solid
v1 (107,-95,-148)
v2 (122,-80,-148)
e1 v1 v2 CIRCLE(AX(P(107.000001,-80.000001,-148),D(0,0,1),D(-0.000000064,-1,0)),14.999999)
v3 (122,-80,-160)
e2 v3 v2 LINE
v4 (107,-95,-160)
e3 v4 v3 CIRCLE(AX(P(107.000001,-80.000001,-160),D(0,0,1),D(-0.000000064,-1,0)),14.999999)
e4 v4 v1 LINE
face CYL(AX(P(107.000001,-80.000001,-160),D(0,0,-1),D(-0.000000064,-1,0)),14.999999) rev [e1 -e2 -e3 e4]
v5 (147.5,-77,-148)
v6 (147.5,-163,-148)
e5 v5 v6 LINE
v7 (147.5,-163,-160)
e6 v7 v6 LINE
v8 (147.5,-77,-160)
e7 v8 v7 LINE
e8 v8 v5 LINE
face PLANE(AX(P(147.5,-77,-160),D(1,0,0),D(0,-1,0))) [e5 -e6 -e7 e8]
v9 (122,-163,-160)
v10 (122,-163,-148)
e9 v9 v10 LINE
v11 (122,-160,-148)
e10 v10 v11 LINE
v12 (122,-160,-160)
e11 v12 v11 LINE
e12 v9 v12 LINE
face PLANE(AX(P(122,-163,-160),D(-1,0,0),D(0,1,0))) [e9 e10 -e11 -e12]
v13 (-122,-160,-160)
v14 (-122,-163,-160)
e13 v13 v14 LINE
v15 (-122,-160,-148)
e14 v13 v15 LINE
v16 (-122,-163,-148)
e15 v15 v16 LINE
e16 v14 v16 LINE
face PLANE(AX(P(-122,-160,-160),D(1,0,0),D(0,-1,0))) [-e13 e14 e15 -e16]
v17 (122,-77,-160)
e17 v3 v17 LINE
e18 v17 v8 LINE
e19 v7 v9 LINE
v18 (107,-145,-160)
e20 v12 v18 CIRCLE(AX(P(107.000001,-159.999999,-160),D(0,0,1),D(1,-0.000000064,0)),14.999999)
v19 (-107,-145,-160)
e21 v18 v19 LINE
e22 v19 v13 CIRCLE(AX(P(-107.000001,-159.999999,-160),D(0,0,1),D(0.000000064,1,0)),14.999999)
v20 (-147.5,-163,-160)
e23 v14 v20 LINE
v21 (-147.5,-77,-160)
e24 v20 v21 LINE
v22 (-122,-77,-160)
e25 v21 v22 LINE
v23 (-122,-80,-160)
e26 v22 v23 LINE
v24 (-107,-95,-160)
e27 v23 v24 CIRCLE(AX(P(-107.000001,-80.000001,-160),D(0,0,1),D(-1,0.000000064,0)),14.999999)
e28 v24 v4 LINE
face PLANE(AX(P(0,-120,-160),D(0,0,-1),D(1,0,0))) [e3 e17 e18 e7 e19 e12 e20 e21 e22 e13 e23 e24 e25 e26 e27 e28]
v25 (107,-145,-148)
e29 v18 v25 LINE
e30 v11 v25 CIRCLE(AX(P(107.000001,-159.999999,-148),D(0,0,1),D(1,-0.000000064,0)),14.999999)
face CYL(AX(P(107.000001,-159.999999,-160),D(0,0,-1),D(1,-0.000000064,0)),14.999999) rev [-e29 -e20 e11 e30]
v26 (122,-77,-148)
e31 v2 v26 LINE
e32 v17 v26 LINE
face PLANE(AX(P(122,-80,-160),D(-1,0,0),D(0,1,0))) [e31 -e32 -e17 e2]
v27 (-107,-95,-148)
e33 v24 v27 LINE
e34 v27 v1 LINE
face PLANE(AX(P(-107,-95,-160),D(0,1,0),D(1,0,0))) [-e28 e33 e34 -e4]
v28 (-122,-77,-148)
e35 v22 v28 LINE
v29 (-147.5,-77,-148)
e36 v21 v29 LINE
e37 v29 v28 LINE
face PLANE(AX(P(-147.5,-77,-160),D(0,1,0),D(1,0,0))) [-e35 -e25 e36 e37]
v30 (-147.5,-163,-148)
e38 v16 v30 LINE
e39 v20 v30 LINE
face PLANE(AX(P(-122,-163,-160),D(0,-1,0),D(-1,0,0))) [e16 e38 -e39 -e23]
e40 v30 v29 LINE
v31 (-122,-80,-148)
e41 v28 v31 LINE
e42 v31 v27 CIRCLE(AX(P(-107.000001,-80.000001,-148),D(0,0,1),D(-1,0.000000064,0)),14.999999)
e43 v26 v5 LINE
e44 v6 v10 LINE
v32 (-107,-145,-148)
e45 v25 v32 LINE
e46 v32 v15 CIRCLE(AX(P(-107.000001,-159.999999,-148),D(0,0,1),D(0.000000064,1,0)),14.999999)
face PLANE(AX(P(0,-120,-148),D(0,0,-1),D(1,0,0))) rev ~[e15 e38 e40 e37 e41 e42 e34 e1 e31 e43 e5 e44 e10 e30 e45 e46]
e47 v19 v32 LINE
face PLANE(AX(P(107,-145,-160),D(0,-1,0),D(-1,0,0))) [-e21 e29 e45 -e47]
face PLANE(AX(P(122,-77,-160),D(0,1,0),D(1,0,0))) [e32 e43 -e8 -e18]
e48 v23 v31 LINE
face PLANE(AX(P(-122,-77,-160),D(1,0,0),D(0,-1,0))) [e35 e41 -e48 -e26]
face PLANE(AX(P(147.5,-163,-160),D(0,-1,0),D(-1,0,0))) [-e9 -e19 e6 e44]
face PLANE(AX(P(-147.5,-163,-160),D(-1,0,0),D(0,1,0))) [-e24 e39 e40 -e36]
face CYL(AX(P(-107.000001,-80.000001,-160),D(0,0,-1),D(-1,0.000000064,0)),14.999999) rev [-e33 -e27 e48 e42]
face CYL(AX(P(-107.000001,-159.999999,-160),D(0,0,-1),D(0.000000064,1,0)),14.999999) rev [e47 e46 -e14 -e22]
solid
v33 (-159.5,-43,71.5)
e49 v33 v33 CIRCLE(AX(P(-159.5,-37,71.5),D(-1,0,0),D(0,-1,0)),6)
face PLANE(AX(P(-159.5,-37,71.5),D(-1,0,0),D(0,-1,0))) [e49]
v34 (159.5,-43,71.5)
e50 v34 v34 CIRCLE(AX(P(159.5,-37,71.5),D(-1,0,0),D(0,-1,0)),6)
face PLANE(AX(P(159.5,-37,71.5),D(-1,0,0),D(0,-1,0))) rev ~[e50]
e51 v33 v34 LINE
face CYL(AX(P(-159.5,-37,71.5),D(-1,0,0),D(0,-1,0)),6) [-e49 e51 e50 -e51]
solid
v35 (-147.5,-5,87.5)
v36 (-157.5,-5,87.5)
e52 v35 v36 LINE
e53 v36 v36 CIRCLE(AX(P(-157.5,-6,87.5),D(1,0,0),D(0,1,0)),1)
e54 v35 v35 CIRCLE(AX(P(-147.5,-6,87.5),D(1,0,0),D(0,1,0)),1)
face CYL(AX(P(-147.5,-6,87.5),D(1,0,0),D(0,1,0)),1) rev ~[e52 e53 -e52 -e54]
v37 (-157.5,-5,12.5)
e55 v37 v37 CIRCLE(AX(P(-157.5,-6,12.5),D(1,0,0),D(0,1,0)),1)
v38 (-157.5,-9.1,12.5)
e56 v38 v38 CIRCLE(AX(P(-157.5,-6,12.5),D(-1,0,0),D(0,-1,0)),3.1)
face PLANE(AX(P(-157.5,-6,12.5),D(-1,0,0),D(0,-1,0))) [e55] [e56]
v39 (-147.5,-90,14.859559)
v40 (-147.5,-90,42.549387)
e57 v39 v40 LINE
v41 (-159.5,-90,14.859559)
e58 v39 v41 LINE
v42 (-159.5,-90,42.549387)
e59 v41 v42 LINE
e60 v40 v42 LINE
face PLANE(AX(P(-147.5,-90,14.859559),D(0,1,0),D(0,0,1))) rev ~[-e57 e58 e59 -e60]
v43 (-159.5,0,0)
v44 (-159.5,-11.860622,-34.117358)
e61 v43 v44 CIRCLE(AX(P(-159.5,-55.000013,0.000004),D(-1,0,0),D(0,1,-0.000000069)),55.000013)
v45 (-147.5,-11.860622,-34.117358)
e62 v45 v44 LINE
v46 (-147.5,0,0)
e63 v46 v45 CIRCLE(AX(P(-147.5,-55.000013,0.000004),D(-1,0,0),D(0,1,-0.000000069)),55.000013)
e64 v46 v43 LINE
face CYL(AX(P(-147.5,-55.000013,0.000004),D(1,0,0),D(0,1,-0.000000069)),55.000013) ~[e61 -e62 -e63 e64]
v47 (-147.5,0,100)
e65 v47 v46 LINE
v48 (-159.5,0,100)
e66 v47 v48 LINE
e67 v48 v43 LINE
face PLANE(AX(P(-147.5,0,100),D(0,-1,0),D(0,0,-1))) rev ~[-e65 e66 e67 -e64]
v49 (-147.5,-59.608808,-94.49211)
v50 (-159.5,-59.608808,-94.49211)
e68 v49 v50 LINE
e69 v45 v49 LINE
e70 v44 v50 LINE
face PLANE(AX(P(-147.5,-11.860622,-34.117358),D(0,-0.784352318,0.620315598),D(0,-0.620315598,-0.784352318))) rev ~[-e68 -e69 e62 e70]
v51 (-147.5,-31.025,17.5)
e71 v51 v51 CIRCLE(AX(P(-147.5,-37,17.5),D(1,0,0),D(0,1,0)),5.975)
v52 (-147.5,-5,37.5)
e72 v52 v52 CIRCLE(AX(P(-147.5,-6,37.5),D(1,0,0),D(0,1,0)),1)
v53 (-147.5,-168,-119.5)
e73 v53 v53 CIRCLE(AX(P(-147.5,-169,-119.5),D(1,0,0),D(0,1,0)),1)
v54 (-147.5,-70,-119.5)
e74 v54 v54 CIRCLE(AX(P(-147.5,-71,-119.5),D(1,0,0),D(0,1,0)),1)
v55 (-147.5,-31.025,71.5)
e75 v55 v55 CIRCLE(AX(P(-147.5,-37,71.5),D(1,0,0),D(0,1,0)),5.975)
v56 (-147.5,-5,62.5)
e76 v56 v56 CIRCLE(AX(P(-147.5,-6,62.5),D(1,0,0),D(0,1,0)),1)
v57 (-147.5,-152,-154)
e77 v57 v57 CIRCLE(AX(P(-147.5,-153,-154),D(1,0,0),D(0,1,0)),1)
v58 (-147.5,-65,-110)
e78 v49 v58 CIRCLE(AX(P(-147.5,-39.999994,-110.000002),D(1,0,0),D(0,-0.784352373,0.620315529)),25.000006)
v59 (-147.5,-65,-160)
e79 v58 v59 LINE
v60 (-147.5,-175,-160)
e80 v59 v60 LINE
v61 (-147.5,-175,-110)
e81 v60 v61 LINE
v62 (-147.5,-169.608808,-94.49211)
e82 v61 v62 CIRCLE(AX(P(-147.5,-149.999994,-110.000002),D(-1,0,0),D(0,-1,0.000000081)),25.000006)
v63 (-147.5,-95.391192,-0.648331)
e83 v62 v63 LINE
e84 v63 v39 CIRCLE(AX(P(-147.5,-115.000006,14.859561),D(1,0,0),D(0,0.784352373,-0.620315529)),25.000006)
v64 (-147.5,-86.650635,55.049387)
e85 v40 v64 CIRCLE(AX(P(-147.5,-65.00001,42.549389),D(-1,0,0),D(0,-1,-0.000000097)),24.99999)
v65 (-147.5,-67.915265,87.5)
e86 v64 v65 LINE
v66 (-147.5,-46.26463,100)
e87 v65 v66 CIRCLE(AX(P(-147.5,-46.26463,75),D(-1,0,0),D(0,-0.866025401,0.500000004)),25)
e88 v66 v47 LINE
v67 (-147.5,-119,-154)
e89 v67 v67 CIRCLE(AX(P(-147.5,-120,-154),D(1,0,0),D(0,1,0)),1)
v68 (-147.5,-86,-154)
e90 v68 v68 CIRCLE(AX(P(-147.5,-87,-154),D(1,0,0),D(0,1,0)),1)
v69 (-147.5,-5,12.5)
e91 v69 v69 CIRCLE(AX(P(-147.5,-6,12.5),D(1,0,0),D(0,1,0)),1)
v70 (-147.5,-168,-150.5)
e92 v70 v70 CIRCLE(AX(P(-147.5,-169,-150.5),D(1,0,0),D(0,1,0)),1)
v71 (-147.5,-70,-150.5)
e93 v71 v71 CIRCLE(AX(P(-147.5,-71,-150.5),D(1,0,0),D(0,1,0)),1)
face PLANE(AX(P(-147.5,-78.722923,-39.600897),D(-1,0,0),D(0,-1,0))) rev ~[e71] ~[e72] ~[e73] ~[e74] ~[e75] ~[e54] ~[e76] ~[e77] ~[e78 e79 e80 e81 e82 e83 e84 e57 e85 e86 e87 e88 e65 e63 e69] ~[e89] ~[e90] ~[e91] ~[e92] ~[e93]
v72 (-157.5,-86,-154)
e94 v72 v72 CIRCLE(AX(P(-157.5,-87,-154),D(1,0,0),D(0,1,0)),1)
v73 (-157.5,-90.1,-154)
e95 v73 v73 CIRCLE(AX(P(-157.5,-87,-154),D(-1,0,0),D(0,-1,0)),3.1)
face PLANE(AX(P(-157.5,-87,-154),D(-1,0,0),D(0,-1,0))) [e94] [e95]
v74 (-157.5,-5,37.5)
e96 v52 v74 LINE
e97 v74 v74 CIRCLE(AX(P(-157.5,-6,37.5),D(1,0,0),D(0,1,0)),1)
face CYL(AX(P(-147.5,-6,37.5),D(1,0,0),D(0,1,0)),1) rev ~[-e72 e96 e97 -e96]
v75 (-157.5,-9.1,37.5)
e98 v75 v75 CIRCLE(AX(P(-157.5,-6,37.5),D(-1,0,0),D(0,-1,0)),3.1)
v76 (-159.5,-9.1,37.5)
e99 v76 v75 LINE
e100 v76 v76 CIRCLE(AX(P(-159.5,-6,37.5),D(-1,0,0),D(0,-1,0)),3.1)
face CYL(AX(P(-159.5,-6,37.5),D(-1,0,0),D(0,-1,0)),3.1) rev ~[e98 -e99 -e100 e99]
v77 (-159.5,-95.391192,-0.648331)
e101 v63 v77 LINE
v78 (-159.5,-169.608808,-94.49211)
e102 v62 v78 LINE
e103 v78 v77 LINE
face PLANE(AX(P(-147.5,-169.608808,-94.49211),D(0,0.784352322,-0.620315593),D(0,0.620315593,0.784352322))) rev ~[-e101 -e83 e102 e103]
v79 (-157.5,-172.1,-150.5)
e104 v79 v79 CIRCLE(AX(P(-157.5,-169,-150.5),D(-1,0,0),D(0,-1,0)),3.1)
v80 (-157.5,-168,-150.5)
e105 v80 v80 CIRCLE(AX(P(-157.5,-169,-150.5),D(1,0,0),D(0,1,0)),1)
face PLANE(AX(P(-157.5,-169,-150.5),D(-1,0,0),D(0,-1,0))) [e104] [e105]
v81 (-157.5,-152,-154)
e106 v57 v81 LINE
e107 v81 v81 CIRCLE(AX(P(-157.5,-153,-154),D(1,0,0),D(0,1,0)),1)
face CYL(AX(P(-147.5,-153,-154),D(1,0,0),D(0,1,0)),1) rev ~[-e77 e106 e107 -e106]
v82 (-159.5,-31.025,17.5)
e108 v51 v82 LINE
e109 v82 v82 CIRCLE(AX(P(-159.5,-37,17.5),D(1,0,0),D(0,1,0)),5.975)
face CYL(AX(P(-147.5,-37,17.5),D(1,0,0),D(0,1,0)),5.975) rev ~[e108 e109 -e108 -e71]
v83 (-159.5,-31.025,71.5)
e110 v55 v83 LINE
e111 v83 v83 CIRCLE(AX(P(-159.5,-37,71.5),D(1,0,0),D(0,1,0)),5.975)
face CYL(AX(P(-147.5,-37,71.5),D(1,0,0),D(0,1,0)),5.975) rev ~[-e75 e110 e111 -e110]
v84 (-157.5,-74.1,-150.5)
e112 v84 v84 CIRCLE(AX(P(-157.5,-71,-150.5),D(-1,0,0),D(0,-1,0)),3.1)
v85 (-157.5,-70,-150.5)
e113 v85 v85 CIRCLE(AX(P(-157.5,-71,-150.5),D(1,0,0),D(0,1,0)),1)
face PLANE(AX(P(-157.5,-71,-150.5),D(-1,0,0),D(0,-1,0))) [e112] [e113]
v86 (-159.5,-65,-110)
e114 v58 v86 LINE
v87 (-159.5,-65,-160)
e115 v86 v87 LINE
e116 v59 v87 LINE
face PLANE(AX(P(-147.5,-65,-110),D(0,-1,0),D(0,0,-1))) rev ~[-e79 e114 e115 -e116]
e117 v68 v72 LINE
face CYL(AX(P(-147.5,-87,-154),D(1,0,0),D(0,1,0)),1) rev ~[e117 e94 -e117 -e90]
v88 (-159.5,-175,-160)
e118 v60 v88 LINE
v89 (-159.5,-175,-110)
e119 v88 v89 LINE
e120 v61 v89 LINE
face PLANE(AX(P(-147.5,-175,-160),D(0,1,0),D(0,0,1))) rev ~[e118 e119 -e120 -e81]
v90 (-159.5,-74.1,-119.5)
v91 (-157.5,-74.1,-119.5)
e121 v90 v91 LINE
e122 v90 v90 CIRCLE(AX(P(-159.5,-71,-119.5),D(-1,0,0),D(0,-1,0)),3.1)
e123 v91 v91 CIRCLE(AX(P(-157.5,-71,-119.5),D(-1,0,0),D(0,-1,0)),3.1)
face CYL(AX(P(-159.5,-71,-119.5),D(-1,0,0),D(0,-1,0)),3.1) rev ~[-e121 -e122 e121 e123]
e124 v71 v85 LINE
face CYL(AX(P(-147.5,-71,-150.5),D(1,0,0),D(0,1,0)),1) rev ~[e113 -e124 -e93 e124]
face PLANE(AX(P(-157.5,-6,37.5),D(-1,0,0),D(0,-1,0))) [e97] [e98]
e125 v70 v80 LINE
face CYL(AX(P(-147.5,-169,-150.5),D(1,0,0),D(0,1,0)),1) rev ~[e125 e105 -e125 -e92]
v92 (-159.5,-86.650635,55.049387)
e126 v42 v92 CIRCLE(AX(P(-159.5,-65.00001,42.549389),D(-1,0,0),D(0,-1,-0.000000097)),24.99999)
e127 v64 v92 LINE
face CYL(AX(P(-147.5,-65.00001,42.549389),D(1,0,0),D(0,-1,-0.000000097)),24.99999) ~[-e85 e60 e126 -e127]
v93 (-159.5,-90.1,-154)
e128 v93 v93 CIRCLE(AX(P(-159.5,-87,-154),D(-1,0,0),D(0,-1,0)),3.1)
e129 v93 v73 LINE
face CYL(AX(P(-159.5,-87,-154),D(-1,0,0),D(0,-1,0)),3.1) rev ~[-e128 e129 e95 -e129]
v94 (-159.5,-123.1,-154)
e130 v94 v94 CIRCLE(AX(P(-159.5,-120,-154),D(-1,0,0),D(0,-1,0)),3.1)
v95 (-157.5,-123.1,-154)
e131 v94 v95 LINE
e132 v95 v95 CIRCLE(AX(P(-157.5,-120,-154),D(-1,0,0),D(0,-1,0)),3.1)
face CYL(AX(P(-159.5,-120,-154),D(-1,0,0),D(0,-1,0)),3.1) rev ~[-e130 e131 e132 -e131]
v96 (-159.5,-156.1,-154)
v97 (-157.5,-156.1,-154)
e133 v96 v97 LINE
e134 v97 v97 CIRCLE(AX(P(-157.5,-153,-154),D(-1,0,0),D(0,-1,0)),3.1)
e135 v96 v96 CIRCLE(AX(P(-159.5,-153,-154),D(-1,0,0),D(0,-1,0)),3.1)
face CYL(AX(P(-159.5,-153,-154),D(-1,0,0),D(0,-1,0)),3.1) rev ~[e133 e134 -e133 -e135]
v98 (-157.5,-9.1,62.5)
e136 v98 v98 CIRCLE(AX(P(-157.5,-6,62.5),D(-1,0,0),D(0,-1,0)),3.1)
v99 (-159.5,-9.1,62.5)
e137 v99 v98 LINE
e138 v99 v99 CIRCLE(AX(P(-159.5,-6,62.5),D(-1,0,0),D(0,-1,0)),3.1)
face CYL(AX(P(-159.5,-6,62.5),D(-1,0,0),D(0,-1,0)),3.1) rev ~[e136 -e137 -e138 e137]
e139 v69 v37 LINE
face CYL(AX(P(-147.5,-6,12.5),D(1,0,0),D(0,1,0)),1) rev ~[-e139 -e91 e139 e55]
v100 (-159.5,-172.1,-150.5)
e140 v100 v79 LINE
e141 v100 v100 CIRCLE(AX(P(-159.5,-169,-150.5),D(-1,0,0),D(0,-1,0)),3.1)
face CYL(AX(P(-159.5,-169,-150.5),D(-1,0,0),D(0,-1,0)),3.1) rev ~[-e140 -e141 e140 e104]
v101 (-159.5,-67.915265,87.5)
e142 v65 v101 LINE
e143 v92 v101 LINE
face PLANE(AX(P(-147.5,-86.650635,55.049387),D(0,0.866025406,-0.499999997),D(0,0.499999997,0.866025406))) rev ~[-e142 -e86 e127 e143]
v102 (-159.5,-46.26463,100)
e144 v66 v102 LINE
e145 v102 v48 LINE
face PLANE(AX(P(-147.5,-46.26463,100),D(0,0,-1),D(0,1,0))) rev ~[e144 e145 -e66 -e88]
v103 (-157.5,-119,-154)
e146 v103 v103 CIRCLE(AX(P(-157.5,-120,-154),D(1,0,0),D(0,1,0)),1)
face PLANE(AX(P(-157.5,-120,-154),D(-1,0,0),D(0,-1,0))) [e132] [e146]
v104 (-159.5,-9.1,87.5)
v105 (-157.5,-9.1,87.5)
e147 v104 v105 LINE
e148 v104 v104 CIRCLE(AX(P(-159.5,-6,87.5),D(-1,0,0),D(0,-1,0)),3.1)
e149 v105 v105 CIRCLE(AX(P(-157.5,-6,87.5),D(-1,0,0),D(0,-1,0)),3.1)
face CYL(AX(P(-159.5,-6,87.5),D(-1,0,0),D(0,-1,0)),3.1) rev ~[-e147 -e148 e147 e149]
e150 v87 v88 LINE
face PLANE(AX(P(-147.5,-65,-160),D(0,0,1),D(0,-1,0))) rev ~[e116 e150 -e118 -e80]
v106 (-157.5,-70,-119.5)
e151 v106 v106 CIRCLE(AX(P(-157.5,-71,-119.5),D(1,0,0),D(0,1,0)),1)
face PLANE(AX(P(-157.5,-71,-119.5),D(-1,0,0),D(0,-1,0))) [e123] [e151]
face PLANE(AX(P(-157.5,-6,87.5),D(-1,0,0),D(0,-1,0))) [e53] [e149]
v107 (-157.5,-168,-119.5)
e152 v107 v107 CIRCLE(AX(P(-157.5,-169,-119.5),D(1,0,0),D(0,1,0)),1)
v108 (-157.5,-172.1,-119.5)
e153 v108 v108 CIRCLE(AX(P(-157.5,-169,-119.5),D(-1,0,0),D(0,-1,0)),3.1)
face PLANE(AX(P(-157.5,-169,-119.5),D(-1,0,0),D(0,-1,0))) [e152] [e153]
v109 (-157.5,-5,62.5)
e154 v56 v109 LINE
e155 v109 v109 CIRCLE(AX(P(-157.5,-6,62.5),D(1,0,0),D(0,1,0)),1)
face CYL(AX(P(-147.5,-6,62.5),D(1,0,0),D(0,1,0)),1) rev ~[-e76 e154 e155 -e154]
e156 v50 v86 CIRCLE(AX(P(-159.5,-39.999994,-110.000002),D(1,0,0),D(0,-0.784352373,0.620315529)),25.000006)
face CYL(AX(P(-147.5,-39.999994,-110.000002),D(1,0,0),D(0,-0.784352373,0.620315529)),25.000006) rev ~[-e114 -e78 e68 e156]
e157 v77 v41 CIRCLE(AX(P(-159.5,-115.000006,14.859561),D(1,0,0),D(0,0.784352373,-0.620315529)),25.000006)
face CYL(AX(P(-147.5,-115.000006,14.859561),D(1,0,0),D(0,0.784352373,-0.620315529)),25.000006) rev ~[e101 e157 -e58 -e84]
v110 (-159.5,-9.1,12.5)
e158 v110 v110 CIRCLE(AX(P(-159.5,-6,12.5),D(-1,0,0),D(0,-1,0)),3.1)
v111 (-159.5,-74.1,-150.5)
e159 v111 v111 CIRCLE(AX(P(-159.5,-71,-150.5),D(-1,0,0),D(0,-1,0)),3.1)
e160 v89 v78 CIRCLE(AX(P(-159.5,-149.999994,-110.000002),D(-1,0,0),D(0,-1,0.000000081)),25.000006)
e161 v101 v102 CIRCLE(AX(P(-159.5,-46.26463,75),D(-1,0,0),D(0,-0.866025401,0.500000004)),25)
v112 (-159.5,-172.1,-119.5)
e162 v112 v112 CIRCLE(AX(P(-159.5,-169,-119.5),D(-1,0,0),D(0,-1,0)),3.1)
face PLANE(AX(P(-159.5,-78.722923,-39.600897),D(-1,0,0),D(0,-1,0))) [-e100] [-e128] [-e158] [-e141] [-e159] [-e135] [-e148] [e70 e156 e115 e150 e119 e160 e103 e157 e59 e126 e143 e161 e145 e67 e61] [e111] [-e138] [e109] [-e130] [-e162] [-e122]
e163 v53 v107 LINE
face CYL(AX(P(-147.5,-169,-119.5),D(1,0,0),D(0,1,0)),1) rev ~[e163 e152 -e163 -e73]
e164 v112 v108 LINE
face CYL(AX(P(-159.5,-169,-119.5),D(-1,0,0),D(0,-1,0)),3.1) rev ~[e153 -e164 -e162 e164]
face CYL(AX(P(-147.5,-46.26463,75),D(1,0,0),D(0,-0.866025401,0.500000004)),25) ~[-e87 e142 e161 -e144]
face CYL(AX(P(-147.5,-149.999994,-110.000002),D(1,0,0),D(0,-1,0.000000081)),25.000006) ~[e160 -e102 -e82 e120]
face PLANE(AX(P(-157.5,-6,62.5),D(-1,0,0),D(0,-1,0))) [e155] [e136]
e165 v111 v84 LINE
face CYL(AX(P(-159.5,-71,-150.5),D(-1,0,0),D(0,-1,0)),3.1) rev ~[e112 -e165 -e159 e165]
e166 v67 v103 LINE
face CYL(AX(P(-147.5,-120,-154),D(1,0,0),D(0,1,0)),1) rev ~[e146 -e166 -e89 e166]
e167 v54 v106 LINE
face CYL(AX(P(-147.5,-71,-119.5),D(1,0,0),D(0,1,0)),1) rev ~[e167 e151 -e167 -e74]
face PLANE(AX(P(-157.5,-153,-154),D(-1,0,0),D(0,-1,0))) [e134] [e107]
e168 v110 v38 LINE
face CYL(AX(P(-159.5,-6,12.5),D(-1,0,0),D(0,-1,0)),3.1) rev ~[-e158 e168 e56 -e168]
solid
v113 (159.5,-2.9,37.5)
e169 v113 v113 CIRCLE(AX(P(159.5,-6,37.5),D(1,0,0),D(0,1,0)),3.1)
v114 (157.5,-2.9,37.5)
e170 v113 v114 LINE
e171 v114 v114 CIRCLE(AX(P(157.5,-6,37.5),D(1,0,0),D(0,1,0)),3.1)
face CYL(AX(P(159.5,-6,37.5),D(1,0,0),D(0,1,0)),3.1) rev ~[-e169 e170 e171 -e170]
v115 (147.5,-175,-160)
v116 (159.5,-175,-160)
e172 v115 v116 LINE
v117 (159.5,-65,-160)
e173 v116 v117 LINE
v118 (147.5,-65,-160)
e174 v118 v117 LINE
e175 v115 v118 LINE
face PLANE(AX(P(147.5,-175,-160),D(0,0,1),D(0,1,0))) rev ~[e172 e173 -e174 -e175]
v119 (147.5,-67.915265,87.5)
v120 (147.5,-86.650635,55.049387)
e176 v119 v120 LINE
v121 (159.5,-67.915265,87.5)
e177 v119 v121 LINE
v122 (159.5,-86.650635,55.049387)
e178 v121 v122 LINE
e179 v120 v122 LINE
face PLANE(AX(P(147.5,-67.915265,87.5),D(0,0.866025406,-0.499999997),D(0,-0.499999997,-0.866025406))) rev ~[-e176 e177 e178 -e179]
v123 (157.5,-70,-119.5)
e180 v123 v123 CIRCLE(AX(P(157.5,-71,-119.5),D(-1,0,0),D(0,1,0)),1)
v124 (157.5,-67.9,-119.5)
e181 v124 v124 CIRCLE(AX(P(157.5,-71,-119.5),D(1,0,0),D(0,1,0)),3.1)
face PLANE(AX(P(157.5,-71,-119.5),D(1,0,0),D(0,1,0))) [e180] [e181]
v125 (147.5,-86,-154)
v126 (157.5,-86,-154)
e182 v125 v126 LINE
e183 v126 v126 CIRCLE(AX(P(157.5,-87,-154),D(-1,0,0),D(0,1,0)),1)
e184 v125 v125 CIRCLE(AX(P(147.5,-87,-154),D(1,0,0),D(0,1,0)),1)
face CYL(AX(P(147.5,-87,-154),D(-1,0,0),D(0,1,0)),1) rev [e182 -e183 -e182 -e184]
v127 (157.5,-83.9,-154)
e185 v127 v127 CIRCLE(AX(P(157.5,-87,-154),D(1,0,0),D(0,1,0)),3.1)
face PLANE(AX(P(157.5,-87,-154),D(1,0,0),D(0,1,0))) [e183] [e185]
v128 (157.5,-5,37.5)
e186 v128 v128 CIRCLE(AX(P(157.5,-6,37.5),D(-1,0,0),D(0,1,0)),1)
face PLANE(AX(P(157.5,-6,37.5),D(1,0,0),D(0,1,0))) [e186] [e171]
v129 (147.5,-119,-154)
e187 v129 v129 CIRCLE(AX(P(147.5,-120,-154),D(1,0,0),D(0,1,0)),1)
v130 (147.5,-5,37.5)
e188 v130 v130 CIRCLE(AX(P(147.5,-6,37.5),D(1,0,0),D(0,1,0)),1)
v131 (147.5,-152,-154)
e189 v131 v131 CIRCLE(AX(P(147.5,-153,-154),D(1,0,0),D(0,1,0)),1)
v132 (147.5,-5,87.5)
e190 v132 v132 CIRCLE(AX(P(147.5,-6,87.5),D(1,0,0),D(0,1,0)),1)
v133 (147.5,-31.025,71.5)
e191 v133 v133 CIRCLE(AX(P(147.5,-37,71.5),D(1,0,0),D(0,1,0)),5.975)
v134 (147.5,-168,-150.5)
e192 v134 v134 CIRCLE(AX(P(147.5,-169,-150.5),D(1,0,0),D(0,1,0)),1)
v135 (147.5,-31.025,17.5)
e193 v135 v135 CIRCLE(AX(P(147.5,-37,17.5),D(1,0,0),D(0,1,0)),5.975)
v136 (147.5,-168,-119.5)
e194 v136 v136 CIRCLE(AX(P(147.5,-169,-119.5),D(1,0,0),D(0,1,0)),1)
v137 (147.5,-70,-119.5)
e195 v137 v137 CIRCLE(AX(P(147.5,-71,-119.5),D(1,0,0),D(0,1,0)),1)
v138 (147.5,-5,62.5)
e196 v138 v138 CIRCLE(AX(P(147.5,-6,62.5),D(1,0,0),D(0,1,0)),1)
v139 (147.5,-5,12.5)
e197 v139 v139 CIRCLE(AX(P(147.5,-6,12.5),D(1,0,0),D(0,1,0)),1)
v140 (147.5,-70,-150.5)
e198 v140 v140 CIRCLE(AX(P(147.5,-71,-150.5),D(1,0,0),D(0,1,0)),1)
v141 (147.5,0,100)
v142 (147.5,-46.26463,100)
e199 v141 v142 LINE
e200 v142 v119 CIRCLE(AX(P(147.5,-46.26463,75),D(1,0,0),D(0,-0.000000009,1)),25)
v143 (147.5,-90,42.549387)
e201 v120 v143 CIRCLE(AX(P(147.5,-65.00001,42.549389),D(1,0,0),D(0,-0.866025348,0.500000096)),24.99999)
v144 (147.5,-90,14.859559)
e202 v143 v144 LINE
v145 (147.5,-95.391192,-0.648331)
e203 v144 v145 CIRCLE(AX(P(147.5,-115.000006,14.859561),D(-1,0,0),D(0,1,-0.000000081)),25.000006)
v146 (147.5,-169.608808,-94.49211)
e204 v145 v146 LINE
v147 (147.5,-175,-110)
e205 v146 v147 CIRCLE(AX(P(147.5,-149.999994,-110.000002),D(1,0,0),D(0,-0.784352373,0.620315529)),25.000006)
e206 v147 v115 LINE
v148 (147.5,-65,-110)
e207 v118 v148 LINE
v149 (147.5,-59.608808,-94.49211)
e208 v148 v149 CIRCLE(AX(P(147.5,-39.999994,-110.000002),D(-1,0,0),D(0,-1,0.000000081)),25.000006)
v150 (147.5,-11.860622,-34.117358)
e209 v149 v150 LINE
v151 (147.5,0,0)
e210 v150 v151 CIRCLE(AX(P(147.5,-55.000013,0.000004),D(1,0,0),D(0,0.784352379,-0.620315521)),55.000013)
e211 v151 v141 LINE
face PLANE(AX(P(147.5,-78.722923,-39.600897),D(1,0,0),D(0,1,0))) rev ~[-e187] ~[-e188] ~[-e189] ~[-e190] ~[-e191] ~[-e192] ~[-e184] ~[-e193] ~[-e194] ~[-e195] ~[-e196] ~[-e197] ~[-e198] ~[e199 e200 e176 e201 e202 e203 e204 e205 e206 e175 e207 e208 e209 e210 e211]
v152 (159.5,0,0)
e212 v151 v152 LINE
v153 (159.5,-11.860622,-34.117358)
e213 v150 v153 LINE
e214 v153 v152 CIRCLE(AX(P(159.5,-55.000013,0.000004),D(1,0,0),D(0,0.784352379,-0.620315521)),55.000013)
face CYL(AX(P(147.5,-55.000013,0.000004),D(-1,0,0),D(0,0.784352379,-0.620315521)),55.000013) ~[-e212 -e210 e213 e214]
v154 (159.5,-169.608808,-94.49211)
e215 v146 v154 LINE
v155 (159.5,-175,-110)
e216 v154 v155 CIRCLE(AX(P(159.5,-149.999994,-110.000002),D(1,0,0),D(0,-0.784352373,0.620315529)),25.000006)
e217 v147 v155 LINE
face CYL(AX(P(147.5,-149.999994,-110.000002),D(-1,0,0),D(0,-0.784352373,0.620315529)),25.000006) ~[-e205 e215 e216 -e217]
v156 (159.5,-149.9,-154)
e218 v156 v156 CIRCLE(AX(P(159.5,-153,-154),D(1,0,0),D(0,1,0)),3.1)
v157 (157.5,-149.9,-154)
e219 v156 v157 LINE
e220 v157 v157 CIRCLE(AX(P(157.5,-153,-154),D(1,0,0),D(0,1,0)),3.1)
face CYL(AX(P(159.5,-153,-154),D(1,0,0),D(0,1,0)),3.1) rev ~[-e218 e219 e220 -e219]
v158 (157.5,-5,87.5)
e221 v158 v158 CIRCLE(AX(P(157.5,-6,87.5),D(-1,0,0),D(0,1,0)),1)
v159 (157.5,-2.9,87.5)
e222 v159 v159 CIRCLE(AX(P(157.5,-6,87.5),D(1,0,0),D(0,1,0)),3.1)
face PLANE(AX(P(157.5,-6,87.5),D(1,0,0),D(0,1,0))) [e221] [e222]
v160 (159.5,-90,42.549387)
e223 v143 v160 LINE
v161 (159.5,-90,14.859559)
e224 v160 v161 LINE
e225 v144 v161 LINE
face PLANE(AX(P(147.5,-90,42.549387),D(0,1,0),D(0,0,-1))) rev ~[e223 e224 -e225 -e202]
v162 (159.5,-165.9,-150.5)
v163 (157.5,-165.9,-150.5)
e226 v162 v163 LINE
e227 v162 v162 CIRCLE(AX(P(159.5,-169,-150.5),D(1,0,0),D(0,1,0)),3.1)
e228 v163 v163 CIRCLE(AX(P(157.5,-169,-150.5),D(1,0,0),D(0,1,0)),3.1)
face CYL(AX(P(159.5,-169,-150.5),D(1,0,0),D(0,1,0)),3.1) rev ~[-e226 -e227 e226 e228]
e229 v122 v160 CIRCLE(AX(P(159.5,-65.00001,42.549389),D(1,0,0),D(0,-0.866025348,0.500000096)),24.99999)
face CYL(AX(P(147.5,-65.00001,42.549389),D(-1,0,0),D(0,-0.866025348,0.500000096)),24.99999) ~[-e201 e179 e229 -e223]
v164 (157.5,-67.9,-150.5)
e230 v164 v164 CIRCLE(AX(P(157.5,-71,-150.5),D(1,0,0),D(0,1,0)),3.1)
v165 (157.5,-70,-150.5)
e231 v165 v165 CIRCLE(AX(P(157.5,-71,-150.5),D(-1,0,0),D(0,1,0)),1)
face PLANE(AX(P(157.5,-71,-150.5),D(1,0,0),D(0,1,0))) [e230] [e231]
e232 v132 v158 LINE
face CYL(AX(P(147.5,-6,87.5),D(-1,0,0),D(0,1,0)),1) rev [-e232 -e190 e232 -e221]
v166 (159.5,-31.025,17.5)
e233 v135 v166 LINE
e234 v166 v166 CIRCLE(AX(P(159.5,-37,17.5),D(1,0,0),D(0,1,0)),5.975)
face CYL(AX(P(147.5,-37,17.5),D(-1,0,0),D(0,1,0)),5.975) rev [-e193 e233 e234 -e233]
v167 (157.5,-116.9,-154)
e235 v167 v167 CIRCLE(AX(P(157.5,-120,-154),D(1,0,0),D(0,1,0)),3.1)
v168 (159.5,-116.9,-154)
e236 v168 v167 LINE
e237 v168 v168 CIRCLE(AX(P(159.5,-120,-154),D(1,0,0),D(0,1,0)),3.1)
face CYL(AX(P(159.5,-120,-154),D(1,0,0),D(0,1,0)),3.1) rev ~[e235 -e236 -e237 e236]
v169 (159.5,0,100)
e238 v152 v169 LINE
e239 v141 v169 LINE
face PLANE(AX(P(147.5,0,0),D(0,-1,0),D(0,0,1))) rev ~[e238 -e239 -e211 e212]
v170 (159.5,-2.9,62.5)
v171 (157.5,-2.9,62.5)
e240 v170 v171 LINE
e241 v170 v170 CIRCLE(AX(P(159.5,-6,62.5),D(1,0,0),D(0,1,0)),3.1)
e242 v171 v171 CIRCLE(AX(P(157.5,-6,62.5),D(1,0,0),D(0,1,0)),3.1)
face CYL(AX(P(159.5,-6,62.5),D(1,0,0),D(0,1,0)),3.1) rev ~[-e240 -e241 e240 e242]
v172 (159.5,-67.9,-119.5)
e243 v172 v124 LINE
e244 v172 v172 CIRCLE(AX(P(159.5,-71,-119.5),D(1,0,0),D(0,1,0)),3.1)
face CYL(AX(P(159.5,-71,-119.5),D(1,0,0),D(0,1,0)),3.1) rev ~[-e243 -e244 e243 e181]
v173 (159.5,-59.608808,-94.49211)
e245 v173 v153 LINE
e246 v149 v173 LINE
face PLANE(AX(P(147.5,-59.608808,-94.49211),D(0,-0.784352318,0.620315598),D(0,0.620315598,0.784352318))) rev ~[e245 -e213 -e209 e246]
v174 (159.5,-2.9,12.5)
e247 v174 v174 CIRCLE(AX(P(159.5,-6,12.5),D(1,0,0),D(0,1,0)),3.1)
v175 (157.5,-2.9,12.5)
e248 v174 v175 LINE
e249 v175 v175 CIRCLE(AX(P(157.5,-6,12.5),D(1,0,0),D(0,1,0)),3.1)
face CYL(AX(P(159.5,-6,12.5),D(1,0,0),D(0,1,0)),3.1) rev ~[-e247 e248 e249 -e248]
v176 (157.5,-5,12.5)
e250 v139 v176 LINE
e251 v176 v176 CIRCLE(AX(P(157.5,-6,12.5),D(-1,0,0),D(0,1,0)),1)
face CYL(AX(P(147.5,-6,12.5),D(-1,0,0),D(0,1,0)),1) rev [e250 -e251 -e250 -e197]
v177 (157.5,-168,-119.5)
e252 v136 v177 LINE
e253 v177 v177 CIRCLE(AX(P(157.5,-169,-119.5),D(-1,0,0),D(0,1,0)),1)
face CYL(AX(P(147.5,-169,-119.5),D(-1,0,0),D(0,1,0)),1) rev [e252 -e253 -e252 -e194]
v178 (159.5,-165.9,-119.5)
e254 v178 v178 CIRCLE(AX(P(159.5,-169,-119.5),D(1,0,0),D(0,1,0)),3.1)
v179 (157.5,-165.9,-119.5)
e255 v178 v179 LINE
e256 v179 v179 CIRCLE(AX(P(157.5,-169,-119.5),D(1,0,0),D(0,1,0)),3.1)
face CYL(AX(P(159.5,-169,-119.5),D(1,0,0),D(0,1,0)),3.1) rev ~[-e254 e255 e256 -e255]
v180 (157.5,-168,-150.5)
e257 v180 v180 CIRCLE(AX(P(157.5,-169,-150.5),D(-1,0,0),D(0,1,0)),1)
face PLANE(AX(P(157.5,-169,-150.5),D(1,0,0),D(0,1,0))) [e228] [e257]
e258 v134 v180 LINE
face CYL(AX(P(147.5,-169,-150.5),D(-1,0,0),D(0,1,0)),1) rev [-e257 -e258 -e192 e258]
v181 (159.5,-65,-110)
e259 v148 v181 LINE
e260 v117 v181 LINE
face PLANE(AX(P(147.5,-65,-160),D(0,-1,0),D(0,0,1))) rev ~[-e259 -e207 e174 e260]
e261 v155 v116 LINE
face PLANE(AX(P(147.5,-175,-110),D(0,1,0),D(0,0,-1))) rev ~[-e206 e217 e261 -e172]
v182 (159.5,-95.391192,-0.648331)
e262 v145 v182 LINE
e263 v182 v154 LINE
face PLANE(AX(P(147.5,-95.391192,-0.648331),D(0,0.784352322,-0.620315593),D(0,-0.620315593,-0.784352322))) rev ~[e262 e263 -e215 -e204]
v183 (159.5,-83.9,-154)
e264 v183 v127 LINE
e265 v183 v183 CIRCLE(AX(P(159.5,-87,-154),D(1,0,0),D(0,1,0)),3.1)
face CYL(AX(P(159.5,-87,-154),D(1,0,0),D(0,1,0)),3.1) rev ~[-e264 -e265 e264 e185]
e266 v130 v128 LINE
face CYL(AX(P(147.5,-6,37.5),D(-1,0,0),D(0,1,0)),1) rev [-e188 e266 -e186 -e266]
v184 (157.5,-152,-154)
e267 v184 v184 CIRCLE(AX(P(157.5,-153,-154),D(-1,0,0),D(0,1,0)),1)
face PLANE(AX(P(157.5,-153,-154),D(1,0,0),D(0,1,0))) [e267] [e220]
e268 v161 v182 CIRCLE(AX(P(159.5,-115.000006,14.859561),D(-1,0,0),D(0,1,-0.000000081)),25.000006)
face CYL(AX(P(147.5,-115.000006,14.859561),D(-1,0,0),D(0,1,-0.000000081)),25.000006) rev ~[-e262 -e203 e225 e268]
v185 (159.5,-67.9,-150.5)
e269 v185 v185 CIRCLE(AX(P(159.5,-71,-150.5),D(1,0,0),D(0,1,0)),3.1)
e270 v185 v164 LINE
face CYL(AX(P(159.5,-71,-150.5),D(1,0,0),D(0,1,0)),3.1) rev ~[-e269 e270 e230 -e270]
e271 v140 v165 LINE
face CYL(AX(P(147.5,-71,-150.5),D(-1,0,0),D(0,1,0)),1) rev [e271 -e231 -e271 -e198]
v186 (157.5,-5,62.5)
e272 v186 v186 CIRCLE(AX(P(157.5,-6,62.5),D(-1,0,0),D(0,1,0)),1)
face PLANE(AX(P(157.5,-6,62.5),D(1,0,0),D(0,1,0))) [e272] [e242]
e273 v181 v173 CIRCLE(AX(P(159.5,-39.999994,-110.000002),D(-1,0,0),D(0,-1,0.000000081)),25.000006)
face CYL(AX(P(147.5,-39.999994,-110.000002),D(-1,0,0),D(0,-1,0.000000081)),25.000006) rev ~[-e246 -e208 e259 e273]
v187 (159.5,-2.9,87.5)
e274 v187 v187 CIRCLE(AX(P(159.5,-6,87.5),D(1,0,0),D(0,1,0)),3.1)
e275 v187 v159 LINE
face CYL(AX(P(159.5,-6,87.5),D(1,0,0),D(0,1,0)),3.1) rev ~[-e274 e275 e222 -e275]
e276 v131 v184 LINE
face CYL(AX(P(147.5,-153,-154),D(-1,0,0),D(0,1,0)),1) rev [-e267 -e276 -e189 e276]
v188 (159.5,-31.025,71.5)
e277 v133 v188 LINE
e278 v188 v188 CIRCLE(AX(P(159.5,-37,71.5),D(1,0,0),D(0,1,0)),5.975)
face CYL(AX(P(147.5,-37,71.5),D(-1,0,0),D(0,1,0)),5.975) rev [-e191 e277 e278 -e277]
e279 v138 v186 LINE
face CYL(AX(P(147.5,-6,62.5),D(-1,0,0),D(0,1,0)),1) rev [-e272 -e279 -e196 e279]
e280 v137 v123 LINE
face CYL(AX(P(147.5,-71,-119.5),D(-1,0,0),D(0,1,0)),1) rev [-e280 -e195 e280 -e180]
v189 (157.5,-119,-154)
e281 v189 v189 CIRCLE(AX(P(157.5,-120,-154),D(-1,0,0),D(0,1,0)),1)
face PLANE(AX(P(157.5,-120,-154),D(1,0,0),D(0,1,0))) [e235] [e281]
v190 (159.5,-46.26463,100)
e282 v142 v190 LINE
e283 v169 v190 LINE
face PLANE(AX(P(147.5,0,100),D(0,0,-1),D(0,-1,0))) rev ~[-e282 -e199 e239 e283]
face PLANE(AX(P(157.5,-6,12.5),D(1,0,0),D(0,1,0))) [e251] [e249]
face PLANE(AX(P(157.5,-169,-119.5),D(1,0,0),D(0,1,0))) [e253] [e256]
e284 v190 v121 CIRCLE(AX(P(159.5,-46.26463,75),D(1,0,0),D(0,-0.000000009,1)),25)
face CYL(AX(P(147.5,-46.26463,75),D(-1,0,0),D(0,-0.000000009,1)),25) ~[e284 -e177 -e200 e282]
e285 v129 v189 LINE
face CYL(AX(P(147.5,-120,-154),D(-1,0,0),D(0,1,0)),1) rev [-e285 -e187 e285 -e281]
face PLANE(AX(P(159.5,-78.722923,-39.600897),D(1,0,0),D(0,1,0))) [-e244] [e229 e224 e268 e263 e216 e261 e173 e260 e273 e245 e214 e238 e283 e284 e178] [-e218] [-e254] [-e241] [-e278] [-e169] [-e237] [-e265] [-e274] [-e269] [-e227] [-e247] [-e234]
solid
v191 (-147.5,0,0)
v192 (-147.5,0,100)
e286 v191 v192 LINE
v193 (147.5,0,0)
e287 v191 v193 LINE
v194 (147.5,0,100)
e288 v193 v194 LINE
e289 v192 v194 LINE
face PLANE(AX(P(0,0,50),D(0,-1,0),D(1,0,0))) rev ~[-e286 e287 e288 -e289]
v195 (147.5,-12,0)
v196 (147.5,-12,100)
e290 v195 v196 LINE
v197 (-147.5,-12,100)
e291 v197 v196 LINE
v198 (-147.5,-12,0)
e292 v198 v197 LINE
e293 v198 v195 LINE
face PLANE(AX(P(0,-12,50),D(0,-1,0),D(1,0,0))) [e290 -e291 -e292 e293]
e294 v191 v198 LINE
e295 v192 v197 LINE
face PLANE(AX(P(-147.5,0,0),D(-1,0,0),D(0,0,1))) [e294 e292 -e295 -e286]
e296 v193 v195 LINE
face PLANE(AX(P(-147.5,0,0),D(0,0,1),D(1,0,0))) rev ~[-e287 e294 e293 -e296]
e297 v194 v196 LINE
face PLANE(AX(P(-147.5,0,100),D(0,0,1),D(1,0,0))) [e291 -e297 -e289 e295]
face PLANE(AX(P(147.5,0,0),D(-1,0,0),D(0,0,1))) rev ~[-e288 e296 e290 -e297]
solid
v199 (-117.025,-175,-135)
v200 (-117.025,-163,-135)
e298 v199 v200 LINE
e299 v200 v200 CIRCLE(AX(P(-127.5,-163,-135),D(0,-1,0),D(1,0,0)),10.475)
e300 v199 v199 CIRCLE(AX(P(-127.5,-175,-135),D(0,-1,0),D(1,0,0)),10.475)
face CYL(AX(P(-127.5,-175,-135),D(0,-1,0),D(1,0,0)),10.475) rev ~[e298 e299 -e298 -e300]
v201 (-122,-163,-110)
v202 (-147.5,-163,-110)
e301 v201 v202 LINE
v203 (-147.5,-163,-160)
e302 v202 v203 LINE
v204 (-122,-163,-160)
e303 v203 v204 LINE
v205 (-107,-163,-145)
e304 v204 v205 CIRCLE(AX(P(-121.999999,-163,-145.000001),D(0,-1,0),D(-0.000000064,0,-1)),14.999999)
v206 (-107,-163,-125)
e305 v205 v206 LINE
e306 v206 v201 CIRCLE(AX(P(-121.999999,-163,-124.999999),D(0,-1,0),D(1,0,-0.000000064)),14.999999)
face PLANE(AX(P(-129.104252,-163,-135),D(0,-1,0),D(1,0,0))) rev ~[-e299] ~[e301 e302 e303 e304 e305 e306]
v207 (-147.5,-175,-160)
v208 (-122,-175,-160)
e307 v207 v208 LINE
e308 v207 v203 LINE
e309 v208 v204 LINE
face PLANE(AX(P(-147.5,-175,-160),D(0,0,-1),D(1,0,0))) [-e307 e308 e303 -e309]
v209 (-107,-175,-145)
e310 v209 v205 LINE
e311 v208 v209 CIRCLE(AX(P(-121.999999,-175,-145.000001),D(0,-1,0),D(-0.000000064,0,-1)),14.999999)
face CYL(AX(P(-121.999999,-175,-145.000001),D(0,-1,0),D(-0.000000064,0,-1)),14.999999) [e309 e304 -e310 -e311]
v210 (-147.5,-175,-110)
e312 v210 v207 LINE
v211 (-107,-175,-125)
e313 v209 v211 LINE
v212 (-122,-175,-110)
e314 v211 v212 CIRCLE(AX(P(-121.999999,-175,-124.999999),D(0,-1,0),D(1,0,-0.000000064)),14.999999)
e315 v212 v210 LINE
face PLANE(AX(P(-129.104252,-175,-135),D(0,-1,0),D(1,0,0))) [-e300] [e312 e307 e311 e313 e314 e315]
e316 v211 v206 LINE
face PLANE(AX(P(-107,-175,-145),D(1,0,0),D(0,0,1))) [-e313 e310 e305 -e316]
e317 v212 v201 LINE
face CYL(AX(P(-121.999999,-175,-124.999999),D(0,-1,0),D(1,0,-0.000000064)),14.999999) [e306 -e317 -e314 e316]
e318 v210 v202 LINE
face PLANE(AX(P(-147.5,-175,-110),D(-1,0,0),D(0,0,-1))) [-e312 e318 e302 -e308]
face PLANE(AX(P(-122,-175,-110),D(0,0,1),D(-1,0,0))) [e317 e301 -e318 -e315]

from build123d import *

# Parameters (mm, degrees)
F0_W      = 295
F0_H      = 100
F1_DEPTH  = 12
F3_DEPTH  = 12
F4_R      = 5.975
F4_R_2    = 1
F5_DEPTH  = 25
F6_R      = 6
F7_DEPTH  = 319
F8_R      = 1
F8_R_2    = 5.975
F9_DEPTH  = 12
F10_R     = 3.1
F11_DEPTH = 2
F12_R     = 3.1
F13_DEPTH = 2
F14_R     = 10.475
F15_DEPTH = 12
F17_DEPTH = 12


with BuildPart() as f1:
    # F0 (on Front) → F1 (new body)
    with BuildSketch(Plane.XZ):
        with Locations((0, 50)):
            Rectangle(F0_W, F0_H)
    extrude(amount=F1_DEPTH)


with BuildPart() as f3:
    # F2 (on face) → F3 (new body)
    with BuildSketch(Plane(origin=(-147.5, 0, 0), x_dir=(0, -1, 0), z_dir=(-1, 0, 0))):
        with BuildLine():
            Line((46.26463, 100), (0, 100))
            Line((0, 100), (0, 0))
            ThreePointArc((0, 0), (3.049708, -18.060097), (11.860622, -34.117358))
            Line((11.860622, -34.117358), (59.608808, -94.49211))
            ThreePointArc((59.608808, -94.49211), (63.613769, -101.790865), (65, -110))
            Line((65, -110), (65, -160))
            Line((65, -160), (175, -160))
            Line((175, -160), (175, -110))
            ThreePointArc((175, -110), (173.613769, -101.790865), (169.608808, -94.49211))
            Line((169.608808, -94.49211), (95.391192, -0.648331))
            ThreePointArc((95.391192, -0.648331), (91.386231, 6.650424), (90, 14.859559))
            Line((90, 14.859559), (90, 42.549387))
            ThreePointArc((90, 42.549387), (89.148146, 49.019863), (86.650635, 55.049387))
            Line((86.650635, 55.049387), (67.915265, 87.5))
            ThreePointArc((67.915265, 87.5), (58.76463, 96.650635), (46.26463, 100))
        make_face()
    extrude(amount=F3_DEPTH)

    # F4 (on face) → F5 (cut)
    with BuildSketch(Plane.YZ.offset(-147.5)):
        with Locations((-37, 17.5)):
            Circle(F4_R)
        with Locations((-37, 71.5)):
            Circle(F4_R)
        with Locations((-6, 87.5)):
            Circle(F4_R_2)
        with Locations((-6, 62.5)):
            Circle(F4_R_2)
        with Locations((-6, 37.5)):
            Circle(F4_R_2)
        with Locations((-6, 12.5)):
            Circle(F4_R_2)
        with Locations((-87, -154)):
            Circle(F4_R_2)
        with Locations((-120, -154)):
            Circle(F4_R_2)
        with Locations((-153, -154)):
            Circle(F4_R_2)
        with Locations((-169, -150.5)):
            Circle(F4_R_2)
        with Locations((-169, -119.5)):
            Circle(F4_R_2)
        with Locations((-71, -119.5)):
            Circle(F4_R_2)
        with Locations((-71, -150.5)):
            Circle(F4_R_2)
    extrude(amount=-F5_DEPTH, mode=Mode.SUBTRACT)

    # F10 (on face) → F11 (cut)
    with BuildSketch(Plane(origin=(-159.5, 0, 0), x_dir=(0, -1, 0), z_dir=(-1, 0, 0))):
        with Locations((6, 87.5)):
            Circle(F10_R)
        with Locations((6, 62.5)):
            Circle(F10_R)
        with Locations((6, 37.5)):
            Circle(F10_R)
        with Locations((6, 12.5)):
            Circle(F10_R)
        with Locations((87, -154)):
            Circle(F10_R)
        with Locations((120, -154)):
            Circle(F10_R)
        with Locations((153, -154)):
            Circle(F10_R)
        with Locations((71, -150.5)):
            Circle(F10_R)
        with Locations((71, -119.5)):
            Circle(F10_R)
        with Locations((169, -119.5)):
            Circle(F10_R)
        with Locations((169, -150.5)):
            Circle(F10_R)
    extrude(amount=-F11_DEPTH, mode=Mode.SUBTRACT)


with BuildPart() as f7:
    # F6 (on face) → F7 (new body)
    with BuildSketch(Plane(origin=(-159.5, 0, 0), x_dir=(0, -1, 0), z_dir=(-1, 0, 0))):
        with Locations((37, 71.5)):
            Circle(F6_R)
    extrude(amount=-F7_DEPTH)


with BuildPart() as f9:
    # F8 (on face) → F9 (new body)
    with BuildSketch(Plane.YZ.offset(147.5)):
        with BuildLine():
            Line((-59.608808, -94.49211), (-11.860622, -34.117358))
            ThreePointArc((-11.860622, -34.117358), (-3.049708, -18.060097), (0, 0))
            Line((0, 0), (0, 100))
            Line((0, 100), (-46.26463, 100))
            ThreePointArc((-46.26463, 100), (-58.76463, 96.650635), (-67.915265, 87.5))
            Line((-67.915265, 87.5), (-86.650635, 55.049387))
            ThreePointArc((-86.650635, 55.049387), (-89.148146, 49.019863), (-90, 42.549387))
            Line((-90, 42.549387), (-90, 14.859559))
            ThreePointArc((-90, 14.859559), (-91.386231, 6.650424), (-95.391192, -0.648331))
            Line((-95.391192, -0.648331), (-169.608808, -94.49211))
            ThreePointArc((-169.608808, -94.49211), (-173.613769, -101.790865), (-175, -110))
            Line((-175, -110), (-175, -160))
            Line((-175, -160), (-65, -160))
            Line((-65, -160), (-65, -110))
            ThreePointArc((-65, -110), (-63.613769, -101.790865), (-59.608808, -94.49211))
        make_face()
        with Locations((-169, -150.5)):
            Circle(F8_R, mode=Mode.SUBTRACT)
        with Locations((-153, -154)):
            Circle(F8_R, mode=Mode.SUBTRACT)
        with Locations((-169, -119.5)):
            Circle(F8_R, mode=Mode.SUBTRACT)
        with Locations((-120, -154)):
            Circle(F8_R, mode=Mode.SUBTRACT)
        with Locations((-87, -154)):
            Circle(F8_R, mode=Mode.SUBTRACT)
        with Locations((-71, -150.5)):
            Circle(F8_R, mode=Mode.SUBTRACT)
        with Locations((-71, -119.5)):
            Circle(F8_R, mode=Mode.SUBTRACT)
        with Locations((-37, 17.5)):
            Circle(F8_R_2, mode=Mode.SUBTRACT)
        with Locations((-6, 12.5)):
            Circle(F8_R, mode=Mode.SUBTRACT)
        with Locations((-6, 37.5)):
            Circle(F8_R, mode=Mode.SUBTRACT)
        with Locations((-6, 62.5)):
            Circle(F8_R, mode=Mode.SUBTRACT)
        with Locations((-37, 71.5)):
            Circle(F8_R_2, mode=Mode.SUBTRACT)
        with Locations((-6, 87.5)):
            Circle(F8_R, mode=Mode.SUBTRACT)
    extrude(amount=F9_DEPTH)

    # F12 (on face) → F13 (cut)
    with BuildSketch(Plane.YZ.offset(159.5)):
        with Locations((-6, 87.5)):
            Circle(F12_R)
        with Locations((-6, 62.5)):
            Circle(F12_R)
        with Locations((-6, 37.5)):
            Circle(F12_R)
        with Locations((-6, 12.5)):
            Circle(F12_R)
        with Locations((-153, -154)):
            Circle(F12_R)
        with Locations((-120, -154)):
            Circle(F12_R)
        with Locations((-87, -154)):
            Circle(F12_R)
        with Locations((-71, -150.5)):
            Circle(F12_R)
        with Locations((-71, -119.5)):
            Circle(F12_R)
        with Locations((-169, -150.5)):
            Circle(F12_R)
        with Locations((-169, -119.5)):
            Circle(F12_R)
    extrude(amount=-F13_DEPTH, mode=Mode.SUBTRACT)


with BuildPart() as f15:
    # F14 (on face) → F15 (new body)
    with BuildSketch(Plane.XZ.offset(175)):
        with BuildLine():
            Line((-147.5, -110), (-147.5, -160))
            Line((-147.5, -160), (-122, -160))
            ThreePointArc((-122, -160), (-111.393398, -155.606602), (-107, -145))
            Line((-107, -145), (-107, -125))
            ThreePointArc((-107, -125), (-111.393398, -114.393398), (-122, -110))
            Line((-122, -110), (-147.5, -110))
        make_face()
        with Locations((-127.5, -135)):
            Circle(F14_R, mode=Mode.SUBTRACT)
    extrude(amount=-F15_DEPTH)


with BuildPart() as f17:
    # F16 (on face) → F17 (new body)
    with BuildSketch(Plane(origin=(0, 0, -160), x_dir=(1, 0, 0), z_dir=(0, 0, -1))):
        with BuildLine():
            Line((0, 145), (-107, 145))
            ThreePointArc((-107, 145), (-117.606602, 149.393398), (-122, 160))
            Line((-122, 160), (-122, 163))
            Line((-122, 163), (-147.5, 163))
            Line((-147.5, 163), (-147.5, 120))
            Line((-147.5, 120), (-147.5, 77))
            Line((-147.5, 77), (-122, 77))
            Line((-122, 77), (-122, 80))
            ThreePointArc((-122, 80), (-117.606602, 90.606602), (-107, 95))
            Line((-107, 95), (0, 95))
            Line((0, 95), (107, 95))
            ThreePointArc((107, 95), (117.606602, 90.606602), (122, 80))
            Line((122, 80), (122, 77))
            Line((122, 77), (147.5, 77))
            Line((147.5, 77), (147.5, 120))
            Line((147.5, 120), (147.5, 163))
            Line((147.5, 163), (122, 163))
            Line((122, 163), (122, 160))
            ThreePointArc((122, 160), (117.606602, 149.393398), (107, 145))
            Line((107, 145), (0, 145))
        make_face()
    extrude(amount=-F17_DEPTH)


solid = Compound([f1.part, f3.part, f7.part, f9.part, f15.part, f17.part])
